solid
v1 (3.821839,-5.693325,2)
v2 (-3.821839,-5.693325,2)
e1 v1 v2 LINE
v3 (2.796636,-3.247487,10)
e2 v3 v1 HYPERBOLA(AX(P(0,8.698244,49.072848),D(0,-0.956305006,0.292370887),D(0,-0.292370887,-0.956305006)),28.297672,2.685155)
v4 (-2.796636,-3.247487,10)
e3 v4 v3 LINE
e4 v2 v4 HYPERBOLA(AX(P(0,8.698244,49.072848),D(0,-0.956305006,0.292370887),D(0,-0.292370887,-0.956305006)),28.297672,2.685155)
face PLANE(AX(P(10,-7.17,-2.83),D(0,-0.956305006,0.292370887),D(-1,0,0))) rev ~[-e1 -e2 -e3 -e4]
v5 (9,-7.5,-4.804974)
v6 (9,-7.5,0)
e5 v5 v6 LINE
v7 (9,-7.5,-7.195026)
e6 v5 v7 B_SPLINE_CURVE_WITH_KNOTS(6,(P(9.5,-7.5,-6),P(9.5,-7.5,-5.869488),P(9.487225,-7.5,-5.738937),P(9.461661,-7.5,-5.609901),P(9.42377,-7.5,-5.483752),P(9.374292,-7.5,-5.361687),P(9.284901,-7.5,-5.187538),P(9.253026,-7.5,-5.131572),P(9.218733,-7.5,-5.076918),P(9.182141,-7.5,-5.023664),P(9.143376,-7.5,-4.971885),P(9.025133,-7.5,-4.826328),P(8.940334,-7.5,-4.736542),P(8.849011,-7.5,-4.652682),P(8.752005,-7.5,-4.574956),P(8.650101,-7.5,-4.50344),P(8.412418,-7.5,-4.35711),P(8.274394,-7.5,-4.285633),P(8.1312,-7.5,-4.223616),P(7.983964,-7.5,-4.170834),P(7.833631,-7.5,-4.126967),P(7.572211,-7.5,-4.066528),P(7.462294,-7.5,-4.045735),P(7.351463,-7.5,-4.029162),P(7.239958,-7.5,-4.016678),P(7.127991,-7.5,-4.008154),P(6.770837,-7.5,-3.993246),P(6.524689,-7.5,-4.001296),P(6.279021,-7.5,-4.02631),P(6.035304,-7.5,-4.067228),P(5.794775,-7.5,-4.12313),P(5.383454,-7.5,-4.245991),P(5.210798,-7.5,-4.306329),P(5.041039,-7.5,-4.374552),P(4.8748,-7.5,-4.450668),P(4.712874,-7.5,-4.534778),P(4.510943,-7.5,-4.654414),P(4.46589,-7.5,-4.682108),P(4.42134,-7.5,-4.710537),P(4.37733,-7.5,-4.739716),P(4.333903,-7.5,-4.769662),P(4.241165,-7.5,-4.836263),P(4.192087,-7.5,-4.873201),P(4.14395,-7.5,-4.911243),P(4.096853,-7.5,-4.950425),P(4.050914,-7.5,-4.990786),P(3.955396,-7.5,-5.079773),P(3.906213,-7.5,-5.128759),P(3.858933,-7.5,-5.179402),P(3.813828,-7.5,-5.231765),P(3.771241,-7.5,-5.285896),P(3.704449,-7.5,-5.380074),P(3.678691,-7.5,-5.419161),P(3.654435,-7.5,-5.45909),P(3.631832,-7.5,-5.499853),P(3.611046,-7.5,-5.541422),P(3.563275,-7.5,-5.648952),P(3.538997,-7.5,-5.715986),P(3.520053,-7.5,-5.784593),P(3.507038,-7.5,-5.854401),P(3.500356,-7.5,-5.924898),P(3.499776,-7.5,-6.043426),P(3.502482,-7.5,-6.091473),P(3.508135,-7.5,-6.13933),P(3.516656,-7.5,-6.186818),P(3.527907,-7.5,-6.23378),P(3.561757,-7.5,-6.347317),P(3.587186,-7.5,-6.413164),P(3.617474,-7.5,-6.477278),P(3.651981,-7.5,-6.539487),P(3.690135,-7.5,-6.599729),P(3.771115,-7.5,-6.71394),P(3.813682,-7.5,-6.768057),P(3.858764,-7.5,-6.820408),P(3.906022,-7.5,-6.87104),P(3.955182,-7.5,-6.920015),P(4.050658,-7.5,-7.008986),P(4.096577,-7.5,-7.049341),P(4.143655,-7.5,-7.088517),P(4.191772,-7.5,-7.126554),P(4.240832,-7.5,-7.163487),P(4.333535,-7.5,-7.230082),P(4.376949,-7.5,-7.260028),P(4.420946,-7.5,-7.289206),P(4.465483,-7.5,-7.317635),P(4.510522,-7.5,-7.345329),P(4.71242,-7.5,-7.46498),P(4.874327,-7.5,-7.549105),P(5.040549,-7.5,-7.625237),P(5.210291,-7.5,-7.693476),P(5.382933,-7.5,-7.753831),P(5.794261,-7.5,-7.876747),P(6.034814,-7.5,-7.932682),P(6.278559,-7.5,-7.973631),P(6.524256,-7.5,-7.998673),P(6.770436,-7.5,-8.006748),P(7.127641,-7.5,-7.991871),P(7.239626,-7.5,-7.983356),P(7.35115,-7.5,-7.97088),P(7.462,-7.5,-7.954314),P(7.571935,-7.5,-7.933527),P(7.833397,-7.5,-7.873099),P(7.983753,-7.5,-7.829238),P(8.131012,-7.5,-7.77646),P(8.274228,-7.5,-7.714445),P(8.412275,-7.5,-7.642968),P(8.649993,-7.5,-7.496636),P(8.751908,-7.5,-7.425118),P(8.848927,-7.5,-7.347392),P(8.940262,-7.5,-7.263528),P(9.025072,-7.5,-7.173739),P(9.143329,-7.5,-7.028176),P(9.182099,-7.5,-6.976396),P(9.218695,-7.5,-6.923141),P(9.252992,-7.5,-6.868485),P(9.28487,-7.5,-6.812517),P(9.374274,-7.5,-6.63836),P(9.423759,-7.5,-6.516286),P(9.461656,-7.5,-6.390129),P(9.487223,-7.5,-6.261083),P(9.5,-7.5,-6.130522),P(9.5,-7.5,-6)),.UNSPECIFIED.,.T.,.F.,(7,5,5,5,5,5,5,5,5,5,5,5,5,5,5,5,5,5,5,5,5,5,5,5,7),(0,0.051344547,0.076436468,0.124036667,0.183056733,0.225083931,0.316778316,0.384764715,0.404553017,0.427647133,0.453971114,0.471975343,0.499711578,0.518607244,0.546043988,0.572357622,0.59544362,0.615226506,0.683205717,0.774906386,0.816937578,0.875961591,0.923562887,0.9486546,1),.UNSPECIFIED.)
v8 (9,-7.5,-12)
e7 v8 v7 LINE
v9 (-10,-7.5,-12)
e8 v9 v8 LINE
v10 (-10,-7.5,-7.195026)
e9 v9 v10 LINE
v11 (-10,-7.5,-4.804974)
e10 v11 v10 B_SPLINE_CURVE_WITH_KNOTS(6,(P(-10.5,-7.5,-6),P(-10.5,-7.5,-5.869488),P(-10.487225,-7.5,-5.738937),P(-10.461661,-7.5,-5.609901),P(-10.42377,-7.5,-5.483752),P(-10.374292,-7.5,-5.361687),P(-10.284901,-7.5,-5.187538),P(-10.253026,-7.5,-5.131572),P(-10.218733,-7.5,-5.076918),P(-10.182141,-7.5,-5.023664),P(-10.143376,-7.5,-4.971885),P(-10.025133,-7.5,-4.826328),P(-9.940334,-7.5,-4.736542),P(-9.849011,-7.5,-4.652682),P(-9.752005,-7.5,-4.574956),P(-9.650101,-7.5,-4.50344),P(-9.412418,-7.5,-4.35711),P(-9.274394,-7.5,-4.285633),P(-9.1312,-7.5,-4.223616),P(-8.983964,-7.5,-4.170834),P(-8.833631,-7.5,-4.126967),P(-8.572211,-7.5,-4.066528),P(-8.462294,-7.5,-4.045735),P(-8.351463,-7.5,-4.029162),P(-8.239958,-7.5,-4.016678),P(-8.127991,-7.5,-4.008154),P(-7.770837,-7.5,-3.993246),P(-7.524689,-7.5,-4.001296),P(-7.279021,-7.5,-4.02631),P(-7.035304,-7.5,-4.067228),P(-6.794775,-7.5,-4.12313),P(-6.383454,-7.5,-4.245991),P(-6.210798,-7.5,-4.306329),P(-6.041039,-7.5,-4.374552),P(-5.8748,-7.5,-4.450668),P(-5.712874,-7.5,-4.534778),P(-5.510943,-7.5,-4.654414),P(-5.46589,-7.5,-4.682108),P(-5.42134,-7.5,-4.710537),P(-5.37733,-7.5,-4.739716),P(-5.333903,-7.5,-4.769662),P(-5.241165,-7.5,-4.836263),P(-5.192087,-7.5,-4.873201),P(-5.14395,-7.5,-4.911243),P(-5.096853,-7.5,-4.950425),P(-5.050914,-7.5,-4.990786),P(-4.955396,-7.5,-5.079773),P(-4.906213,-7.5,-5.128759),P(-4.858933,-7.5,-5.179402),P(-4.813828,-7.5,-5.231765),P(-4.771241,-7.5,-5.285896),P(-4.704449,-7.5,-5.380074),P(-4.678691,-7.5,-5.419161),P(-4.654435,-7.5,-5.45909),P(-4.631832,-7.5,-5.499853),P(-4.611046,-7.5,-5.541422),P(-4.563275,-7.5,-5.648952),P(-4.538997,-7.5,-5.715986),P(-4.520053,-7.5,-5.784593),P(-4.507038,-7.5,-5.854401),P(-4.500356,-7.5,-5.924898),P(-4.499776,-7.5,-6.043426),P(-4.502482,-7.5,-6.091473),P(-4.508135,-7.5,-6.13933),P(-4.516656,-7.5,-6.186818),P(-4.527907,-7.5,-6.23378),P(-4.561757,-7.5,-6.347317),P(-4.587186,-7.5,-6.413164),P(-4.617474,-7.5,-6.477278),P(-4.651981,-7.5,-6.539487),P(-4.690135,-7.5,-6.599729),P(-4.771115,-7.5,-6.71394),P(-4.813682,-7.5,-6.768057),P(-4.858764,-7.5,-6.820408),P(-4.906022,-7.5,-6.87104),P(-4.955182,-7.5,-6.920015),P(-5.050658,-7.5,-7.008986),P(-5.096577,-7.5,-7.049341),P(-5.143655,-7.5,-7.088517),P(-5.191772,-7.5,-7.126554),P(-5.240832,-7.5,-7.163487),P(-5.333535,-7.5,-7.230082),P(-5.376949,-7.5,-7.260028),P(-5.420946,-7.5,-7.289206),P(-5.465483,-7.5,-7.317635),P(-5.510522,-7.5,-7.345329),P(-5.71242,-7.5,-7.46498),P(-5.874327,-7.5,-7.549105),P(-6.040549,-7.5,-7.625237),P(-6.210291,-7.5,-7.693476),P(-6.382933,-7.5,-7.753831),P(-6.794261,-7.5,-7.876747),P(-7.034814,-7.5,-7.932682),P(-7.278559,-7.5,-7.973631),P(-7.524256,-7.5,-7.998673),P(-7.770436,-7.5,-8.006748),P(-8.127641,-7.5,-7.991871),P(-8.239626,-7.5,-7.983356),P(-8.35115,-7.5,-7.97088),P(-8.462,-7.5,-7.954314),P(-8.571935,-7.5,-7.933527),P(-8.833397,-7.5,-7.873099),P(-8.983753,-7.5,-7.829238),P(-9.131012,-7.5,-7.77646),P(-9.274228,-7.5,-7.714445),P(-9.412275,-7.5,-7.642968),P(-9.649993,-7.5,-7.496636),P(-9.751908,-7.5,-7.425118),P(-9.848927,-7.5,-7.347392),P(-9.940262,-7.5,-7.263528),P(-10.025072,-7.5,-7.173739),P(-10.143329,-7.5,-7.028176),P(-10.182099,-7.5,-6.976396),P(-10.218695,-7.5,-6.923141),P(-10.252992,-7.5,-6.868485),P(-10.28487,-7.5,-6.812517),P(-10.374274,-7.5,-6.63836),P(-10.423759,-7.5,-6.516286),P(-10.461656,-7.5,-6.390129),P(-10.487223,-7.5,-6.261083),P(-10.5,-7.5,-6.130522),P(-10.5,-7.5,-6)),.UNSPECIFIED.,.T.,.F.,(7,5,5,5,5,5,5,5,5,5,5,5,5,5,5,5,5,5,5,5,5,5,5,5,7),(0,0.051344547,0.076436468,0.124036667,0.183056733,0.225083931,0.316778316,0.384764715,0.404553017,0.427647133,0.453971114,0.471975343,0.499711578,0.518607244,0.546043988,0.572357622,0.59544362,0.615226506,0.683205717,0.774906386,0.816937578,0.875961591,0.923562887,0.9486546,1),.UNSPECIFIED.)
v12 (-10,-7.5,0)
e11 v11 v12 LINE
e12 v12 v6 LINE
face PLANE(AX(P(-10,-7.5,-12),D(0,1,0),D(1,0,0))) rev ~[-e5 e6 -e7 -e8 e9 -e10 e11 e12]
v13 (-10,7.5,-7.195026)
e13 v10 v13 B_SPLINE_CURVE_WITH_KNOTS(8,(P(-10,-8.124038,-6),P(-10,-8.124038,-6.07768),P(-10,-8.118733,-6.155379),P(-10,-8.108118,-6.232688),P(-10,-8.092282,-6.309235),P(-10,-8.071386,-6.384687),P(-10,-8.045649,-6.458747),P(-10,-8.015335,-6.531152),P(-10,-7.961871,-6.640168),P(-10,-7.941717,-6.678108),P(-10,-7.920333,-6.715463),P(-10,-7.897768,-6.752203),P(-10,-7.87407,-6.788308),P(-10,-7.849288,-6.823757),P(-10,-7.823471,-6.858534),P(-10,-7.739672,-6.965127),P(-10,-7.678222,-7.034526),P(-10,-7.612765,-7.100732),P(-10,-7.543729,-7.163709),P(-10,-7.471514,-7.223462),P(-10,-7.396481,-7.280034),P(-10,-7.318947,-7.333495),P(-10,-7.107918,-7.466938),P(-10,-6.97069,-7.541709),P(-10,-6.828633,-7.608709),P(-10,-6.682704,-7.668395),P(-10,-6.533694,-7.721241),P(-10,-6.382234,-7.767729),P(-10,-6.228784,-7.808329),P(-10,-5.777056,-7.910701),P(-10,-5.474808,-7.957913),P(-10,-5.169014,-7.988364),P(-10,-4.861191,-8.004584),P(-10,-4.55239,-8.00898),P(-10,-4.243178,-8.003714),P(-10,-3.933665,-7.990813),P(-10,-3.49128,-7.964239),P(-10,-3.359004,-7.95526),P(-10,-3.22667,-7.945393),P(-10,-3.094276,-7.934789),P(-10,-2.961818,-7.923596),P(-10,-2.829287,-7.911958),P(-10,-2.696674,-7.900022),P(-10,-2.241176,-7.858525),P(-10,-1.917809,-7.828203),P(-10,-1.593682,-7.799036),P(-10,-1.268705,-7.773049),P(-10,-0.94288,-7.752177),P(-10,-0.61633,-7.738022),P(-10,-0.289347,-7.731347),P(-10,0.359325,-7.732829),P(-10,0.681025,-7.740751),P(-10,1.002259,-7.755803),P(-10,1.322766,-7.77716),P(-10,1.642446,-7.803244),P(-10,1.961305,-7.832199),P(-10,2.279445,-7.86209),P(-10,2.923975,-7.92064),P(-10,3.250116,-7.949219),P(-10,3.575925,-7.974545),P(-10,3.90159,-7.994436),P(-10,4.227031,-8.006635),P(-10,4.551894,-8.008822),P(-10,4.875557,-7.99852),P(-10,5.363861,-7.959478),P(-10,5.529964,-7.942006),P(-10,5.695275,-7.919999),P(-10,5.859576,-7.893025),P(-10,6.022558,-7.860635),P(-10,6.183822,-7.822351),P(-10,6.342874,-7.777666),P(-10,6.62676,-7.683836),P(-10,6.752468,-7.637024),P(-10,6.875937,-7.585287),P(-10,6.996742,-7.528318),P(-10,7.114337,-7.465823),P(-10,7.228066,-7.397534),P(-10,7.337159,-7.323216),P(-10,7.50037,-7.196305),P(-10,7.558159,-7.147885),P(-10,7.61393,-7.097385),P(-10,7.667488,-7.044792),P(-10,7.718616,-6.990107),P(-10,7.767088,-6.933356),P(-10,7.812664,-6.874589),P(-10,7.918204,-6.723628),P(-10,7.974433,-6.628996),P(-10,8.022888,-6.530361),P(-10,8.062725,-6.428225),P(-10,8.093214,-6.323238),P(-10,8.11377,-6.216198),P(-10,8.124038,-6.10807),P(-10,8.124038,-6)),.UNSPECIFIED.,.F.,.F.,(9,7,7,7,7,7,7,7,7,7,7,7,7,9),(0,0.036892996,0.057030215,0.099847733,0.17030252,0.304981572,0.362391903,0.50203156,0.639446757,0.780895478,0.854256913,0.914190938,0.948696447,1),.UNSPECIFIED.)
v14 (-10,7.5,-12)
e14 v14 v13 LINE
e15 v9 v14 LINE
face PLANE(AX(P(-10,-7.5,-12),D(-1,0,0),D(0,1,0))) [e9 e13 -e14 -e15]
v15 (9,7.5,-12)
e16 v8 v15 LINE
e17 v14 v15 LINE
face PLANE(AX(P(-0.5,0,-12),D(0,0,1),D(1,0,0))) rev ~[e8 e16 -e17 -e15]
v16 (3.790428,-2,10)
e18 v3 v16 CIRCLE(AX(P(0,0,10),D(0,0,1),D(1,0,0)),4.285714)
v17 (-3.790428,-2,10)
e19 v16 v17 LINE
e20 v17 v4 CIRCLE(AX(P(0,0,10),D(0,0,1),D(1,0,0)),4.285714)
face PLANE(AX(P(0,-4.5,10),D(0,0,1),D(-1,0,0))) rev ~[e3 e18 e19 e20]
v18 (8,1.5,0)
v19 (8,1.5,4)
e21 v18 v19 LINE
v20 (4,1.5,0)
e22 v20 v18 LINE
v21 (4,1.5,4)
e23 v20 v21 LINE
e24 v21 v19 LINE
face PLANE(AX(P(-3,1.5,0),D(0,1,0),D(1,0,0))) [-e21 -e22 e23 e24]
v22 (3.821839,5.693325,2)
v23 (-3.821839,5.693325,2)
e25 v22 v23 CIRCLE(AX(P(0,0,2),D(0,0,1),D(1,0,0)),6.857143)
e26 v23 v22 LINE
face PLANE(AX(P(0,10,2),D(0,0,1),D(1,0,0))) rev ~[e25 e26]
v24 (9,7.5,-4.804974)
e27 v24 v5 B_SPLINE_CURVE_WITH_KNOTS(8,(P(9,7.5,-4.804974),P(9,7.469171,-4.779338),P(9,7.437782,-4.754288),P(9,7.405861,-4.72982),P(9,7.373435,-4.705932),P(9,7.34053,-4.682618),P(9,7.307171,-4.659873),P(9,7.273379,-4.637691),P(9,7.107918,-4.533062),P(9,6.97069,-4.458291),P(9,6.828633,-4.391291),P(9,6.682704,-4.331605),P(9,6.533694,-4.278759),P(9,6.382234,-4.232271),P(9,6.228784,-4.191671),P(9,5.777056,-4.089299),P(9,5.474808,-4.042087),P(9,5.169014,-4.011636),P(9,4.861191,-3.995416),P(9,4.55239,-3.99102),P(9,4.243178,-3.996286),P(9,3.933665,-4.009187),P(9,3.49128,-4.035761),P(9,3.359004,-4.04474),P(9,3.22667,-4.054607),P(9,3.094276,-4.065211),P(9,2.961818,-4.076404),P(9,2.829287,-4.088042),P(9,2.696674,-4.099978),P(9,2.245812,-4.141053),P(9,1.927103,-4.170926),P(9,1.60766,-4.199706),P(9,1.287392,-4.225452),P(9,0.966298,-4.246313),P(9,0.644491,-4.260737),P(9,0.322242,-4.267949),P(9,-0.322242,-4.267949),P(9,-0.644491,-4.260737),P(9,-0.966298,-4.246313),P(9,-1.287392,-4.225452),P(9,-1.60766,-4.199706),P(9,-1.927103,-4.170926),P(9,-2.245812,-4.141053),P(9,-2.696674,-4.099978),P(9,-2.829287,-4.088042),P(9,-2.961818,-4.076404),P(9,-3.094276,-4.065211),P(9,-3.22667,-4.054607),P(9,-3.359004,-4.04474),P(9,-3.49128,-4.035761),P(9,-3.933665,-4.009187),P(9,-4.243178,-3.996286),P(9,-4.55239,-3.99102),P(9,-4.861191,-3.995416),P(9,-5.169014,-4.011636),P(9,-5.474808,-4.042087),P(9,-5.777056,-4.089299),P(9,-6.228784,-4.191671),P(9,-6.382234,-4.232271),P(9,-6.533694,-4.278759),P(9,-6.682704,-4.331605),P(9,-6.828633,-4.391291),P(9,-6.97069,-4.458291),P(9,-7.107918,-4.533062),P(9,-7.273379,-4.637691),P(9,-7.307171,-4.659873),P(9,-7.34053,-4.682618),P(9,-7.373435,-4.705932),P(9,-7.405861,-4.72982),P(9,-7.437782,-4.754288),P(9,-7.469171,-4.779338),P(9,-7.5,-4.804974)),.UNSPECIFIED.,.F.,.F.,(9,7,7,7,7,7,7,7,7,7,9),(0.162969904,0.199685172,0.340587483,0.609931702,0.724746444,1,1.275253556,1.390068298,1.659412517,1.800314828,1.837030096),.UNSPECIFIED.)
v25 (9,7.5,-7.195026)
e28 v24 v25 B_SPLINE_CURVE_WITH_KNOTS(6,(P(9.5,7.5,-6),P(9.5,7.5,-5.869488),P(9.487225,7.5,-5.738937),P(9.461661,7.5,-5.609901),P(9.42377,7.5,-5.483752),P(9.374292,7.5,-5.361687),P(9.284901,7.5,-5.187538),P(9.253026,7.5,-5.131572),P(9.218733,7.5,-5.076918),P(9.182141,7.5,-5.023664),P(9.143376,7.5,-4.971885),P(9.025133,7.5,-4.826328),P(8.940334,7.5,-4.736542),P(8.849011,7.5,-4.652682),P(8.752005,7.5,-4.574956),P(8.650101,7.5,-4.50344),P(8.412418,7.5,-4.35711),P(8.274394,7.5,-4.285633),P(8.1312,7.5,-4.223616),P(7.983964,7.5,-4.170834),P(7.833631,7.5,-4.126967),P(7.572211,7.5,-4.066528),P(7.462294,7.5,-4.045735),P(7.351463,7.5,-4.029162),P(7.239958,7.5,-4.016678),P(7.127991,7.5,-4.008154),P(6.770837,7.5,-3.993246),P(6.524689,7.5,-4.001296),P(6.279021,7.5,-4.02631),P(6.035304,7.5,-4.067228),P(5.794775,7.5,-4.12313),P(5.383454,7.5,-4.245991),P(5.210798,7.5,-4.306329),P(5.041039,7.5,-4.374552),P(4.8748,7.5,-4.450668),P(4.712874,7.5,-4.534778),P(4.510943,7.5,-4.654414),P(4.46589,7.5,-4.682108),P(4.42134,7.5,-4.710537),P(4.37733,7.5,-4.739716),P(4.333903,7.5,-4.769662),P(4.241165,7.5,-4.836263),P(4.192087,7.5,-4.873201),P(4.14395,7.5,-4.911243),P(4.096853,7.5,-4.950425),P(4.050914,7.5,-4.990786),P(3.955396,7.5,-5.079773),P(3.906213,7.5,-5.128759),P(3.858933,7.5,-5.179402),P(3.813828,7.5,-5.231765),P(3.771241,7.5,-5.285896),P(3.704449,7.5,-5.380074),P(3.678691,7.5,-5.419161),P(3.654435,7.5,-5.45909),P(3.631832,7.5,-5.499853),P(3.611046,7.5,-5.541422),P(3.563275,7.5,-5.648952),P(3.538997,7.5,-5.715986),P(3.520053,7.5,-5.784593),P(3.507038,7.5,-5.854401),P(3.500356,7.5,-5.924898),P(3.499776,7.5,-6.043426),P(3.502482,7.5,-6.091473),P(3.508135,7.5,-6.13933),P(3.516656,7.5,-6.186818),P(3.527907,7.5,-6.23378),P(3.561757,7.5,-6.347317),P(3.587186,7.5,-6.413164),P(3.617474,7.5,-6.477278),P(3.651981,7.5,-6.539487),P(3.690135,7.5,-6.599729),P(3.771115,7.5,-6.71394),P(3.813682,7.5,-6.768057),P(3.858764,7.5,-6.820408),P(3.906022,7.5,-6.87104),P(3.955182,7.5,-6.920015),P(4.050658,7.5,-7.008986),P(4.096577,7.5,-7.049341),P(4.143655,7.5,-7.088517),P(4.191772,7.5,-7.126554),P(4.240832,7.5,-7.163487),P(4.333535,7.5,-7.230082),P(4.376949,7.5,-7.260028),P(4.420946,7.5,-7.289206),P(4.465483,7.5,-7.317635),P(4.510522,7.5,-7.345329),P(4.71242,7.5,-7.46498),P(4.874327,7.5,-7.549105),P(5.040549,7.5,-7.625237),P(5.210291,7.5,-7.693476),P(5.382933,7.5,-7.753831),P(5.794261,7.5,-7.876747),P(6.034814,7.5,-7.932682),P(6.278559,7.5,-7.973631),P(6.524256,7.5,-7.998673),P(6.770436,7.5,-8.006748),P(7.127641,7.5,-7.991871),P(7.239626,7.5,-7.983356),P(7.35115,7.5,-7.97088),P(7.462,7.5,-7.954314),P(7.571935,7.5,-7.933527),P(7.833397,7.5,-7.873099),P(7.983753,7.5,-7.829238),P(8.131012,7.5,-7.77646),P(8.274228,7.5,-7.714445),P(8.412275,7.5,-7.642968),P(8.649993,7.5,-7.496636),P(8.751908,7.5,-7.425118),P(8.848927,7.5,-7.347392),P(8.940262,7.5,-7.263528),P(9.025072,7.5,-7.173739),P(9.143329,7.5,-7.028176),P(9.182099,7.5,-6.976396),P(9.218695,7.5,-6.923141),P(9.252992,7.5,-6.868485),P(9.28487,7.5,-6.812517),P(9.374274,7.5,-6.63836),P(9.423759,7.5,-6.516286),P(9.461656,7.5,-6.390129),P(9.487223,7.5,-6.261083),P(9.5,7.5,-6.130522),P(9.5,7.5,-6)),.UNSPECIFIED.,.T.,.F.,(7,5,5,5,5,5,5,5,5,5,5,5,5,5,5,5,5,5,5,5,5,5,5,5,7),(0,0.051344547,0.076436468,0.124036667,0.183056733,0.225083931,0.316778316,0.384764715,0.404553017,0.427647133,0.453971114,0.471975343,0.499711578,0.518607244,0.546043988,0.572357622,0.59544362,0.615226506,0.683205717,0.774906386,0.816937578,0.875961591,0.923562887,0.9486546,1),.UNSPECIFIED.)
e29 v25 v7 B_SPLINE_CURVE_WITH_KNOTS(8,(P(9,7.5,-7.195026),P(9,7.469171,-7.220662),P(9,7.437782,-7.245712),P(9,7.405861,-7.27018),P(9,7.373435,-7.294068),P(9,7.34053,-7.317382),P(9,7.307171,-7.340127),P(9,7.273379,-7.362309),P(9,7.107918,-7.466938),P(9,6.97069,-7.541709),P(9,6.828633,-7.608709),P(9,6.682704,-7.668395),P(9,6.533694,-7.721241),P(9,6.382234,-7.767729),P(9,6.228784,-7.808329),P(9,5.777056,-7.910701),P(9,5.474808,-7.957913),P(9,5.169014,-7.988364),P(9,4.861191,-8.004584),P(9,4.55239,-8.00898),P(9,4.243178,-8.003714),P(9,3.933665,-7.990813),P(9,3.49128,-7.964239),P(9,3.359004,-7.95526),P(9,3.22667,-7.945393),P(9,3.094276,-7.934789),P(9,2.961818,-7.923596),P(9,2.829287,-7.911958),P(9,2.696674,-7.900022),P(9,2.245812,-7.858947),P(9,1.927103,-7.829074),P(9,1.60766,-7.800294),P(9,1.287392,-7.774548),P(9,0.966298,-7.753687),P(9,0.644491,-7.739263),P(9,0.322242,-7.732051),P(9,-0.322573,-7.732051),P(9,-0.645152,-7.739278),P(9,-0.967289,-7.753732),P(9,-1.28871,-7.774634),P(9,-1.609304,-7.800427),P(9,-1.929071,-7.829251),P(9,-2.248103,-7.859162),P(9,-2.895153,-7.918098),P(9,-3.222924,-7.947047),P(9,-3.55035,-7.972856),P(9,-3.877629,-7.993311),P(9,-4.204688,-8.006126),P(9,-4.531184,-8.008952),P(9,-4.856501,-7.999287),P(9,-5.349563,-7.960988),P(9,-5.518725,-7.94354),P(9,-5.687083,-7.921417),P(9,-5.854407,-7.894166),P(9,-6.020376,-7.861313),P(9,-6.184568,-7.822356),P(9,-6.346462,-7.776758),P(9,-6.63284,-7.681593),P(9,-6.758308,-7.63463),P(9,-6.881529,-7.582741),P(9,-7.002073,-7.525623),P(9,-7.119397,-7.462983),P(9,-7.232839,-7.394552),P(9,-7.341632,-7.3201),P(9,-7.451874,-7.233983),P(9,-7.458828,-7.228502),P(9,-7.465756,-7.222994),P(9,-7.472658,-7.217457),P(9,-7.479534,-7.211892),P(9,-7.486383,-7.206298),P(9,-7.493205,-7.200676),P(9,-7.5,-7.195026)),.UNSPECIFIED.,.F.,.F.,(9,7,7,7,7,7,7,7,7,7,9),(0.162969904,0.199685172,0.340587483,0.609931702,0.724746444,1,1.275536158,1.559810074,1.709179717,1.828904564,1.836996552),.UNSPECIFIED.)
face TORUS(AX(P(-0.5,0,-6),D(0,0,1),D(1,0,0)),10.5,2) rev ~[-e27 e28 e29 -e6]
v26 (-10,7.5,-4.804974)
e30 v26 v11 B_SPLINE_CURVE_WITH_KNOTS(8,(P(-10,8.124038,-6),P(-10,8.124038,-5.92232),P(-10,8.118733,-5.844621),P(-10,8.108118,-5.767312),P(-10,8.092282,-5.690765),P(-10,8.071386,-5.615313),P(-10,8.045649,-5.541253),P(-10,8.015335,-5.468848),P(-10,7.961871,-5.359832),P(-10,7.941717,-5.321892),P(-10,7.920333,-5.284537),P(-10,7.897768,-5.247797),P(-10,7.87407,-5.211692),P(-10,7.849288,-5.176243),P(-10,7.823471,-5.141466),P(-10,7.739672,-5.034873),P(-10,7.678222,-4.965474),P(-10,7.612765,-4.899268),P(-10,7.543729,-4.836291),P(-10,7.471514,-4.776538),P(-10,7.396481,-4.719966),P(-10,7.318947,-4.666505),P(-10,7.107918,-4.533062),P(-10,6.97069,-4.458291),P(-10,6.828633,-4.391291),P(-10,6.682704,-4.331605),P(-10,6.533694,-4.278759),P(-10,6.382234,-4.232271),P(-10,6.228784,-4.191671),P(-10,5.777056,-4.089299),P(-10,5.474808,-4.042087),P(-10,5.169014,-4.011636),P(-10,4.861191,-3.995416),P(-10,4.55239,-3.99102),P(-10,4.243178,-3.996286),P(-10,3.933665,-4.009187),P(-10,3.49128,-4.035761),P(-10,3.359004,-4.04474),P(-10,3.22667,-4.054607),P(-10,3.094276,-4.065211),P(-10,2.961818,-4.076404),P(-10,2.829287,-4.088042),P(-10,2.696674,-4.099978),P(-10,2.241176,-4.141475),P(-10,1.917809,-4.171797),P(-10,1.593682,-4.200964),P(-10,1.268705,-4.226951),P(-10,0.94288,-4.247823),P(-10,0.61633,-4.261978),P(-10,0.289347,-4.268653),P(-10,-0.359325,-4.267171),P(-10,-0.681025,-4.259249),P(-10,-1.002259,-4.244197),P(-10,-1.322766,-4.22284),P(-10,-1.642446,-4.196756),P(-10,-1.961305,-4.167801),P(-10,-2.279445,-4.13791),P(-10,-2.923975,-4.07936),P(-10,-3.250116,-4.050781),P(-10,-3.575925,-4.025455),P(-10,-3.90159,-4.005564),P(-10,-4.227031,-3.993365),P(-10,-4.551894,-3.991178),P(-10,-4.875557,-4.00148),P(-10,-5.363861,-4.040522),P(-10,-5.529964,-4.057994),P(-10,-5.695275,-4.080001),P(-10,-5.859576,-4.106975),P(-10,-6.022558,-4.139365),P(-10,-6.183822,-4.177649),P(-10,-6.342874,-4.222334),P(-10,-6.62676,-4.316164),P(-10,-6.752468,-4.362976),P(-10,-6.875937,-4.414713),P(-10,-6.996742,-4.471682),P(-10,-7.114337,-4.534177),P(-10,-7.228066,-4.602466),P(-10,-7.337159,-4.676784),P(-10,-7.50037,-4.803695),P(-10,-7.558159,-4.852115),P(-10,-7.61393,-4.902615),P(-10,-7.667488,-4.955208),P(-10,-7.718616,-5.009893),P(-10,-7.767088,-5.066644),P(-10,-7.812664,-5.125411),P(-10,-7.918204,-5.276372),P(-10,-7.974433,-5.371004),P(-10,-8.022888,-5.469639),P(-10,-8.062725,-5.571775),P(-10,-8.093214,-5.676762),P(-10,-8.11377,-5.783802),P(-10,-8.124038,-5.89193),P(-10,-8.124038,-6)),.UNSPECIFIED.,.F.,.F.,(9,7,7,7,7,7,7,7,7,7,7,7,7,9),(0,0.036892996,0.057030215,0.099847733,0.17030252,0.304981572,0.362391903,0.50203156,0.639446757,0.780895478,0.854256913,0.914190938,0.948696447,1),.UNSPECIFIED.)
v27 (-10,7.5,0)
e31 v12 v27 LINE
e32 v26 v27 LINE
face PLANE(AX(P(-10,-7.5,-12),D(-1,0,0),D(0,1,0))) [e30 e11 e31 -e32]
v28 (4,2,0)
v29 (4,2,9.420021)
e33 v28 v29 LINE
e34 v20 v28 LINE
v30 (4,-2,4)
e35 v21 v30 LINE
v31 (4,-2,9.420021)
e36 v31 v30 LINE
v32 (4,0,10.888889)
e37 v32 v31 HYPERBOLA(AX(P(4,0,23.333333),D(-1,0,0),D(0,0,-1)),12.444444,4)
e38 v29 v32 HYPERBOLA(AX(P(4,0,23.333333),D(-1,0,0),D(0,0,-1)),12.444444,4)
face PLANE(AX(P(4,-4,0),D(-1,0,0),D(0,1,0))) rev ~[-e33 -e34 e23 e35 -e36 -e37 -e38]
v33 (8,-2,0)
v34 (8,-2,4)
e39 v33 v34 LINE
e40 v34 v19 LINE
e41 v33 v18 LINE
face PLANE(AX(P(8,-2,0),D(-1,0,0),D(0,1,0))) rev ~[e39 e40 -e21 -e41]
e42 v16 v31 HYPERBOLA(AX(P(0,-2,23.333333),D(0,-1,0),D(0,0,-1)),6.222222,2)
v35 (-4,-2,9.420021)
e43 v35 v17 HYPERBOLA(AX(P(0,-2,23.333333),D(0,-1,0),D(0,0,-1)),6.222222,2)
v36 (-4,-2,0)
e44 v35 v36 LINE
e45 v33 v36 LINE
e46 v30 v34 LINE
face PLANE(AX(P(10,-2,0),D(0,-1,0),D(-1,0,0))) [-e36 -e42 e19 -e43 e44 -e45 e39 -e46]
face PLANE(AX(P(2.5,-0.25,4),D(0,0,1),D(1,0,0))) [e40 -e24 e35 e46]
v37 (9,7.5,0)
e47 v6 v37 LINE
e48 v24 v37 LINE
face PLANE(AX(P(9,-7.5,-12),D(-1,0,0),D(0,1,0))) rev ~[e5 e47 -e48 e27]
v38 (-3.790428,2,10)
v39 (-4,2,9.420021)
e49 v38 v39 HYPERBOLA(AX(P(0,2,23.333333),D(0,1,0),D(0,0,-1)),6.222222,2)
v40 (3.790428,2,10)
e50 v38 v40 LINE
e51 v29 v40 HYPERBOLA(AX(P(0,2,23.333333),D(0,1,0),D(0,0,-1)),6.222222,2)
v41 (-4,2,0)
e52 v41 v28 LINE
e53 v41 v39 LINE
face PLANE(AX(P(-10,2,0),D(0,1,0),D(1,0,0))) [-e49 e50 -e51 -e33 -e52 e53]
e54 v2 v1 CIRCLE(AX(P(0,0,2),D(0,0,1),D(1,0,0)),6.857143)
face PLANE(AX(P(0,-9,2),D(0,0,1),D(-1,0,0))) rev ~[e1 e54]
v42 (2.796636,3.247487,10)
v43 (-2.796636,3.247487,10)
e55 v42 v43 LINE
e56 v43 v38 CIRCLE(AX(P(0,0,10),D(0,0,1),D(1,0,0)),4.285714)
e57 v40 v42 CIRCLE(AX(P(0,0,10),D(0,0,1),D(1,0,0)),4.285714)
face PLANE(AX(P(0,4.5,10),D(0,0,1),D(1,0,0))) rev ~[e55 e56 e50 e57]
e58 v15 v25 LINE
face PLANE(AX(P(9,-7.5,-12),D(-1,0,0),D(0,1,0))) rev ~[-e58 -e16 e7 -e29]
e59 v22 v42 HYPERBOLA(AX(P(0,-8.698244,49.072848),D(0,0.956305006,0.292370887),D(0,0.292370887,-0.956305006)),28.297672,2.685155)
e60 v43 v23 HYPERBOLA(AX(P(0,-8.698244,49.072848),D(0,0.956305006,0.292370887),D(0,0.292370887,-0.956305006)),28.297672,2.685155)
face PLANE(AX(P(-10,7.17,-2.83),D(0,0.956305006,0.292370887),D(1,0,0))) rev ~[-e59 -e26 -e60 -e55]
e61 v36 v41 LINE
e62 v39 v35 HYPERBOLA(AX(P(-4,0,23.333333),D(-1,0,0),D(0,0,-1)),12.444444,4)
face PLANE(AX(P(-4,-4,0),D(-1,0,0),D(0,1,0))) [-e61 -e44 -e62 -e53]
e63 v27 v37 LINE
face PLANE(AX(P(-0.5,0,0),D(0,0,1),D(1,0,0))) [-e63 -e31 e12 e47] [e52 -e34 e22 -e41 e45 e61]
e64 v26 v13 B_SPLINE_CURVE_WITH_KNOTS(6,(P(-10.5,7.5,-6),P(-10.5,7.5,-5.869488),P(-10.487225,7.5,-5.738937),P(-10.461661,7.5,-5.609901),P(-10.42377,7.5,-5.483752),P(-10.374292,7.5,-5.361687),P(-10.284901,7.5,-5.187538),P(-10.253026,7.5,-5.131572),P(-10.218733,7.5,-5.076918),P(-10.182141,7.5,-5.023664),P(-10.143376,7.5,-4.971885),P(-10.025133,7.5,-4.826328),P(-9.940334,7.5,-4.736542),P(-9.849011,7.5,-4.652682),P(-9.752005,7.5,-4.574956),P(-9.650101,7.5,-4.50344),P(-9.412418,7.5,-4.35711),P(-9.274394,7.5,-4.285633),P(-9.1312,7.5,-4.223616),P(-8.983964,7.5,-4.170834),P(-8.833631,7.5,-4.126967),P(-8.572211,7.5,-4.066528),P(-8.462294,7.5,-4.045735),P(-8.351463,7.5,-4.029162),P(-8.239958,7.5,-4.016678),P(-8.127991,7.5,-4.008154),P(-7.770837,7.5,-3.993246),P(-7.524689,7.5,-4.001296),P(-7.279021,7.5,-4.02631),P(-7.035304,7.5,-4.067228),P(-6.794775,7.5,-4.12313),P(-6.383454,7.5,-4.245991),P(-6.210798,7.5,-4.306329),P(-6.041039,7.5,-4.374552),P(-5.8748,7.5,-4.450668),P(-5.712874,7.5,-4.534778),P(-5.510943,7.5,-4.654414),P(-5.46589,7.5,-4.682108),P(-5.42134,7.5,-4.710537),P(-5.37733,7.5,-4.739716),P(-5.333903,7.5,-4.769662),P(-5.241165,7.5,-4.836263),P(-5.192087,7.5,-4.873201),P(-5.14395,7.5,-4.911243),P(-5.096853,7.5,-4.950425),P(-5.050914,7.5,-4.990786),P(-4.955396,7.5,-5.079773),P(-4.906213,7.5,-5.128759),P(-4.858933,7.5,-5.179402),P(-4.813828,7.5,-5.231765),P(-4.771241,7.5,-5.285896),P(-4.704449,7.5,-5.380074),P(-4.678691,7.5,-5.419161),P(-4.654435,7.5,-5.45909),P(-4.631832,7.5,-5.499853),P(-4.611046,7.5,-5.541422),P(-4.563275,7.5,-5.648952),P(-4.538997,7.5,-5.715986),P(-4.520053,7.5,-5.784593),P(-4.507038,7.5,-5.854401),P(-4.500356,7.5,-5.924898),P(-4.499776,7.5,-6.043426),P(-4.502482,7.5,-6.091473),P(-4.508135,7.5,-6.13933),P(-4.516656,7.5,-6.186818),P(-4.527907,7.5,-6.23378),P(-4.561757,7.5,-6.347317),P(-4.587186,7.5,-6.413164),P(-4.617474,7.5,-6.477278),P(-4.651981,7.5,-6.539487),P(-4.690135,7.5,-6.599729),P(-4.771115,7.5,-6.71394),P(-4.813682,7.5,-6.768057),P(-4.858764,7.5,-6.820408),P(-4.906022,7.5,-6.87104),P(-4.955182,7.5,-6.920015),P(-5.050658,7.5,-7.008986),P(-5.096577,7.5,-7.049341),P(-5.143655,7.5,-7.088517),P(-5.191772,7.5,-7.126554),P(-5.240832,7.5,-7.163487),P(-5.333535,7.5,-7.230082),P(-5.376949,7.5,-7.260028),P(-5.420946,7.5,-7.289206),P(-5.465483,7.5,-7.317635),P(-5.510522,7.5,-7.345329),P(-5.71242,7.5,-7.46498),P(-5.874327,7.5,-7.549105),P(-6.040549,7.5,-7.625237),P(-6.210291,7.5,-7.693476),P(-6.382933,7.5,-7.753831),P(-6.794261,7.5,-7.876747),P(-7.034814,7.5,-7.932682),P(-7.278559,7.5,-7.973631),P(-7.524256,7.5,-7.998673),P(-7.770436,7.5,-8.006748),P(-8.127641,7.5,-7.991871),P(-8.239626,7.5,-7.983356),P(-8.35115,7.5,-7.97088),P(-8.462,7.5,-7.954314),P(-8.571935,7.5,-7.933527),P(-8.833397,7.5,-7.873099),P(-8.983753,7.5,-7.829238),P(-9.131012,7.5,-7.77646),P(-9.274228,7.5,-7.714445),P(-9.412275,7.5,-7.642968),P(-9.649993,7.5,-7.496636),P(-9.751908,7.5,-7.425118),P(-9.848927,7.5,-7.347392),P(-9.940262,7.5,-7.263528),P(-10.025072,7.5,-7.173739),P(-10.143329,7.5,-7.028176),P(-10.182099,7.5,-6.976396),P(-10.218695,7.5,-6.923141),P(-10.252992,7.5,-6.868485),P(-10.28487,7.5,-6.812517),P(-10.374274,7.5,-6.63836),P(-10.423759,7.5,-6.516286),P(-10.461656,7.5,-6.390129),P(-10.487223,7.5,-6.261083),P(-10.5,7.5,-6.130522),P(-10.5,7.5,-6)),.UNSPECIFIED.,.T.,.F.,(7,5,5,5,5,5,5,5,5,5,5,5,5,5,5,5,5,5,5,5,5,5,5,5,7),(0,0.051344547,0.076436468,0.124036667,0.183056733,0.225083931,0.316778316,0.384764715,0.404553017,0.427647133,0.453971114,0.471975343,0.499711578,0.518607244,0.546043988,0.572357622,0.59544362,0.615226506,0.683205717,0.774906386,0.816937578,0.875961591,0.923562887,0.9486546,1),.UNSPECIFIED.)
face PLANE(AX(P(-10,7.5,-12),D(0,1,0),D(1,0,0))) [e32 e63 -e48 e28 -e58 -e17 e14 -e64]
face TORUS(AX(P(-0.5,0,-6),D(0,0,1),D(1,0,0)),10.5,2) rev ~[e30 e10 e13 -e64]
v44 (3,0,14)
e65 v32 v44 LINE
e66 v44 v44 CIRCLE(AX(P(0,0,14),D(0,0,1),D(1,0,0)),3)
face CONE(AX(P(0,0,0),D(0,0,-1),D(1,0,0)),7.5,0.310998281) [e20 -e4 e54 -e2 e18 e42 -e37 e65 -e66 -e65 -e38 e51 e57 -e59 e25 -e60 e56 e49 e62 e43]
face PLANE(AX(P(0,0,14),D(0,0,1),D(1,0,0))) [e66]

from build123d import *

# Parameters (mm, degrees)
BOX008_W               = 10
BOX008_H               = 10
BOX008_DEPTH           = 5
BOX009_W               = 10
BOX009_H               = 10
BOX009_DEPTH           = 5
BOX006_W               = 10
BOX006_H               = 10
BOX006_DEPTH           = 15
BOX006_PLACEMENT_ANGLE = 90
BOX005_W               = 10
BOX005_H               = 10
BOX005_DEPTH           = 15
BOX002_W               = 20
BOX002_H               = 8
BOX002_DEPTH           = 18
BOX002_ROLL_ANGLE      = 16.999951
BOX003_W               = 20
BOX003_H               = 5
BOX003_DEPTH           = 10
CUT001_PLACEMENT_ANGLE = 180
BOX001_W               = 20
BOX001_H               = 8
BOX001_DEPTH           = 18
BOX001_ROLL_ANGLE      = 16.999951
BOX_W                  = 20
BOX_H                  = 5
BOX_DEPTH              = 10
TORUS_R                = 2
BOX007_W               = 19
BOX007_H               = 15
BOX007_DEPTH           = 12
BOX004_W               = 11
BOX004_H               = 3.5
BOX004_DEPTH           = 4


with BuildPart() as box008:
    # Box008 → Box008 (new body)
    with BuildSketch(Plane(origin=(-5, 5, -3), x_dir=(1, 0, 0), z_dir=(0, 0, 1))):
        with Locations((5, 5)):
            Rectangle(BOX008_W, BOX008_H)
    extrude(amount=BOX008_DEPTH)


with BuildPart() as box009:
    # Box009 → Box009 (new body)
    with BuildSketch(Plane(origin=(5, -4, -3), x_dir=(-1, 0, 0), z_dir=(0, 0, 1))):
        with Locations((5, 5)):
            Rectangle(BOX009_W, BOX009_H)
    extrude(amount=BOX009_DEPTH)


with BuildPart() as box006:
    # Box006 → Box006 (new body)
    with BuildSketch(Plane.XY):
        with Locations((5, 5)):
            Rectangle(BOX006_W, BOX006_H)
    extrude(amount=BOX006_DEPTH)


with BuildPart() as box006_1:
    # Box006 placement: moved
    add(box006.part.moved(Location((-4, -4, 0))).rotate(Axis((-4, -4, 0), (0, 0, 1)), BOX006_PLACEMENT_ANGLE))


with BuildPart() as box005:
    # Box005 → Box005 (new body)
    with BuildSketch(Plane(origin=(4, -4, 0), x_dir=(1, 0, 0), z_dir=(0, 0, 1))):
        with Locations((5, 5)):
            Rectangle(BOX005_W, BOX005_H)
    extrude(amount=BOX005_DEPTH)


with BuildPart() as box002:
    # Box002 → Box002 (new body)
    with BuildSketch(Plane.XY):
        with Locations((10, 4)):
            Rectangle(BOX002_W, BOX002_H)
    extrude(amount=BOX002_DEPTH)


with BuildPart() as box002_1:
    # Box002 roll: moved
    add(box002.part.rotate(Axis((0, 0, 0), (1, 0, 0)), BOX002_ROLL_ANGLE))


with BuildPart() as box002_2:
    # Box002 placement: moved
    add(box002_1.part.moved(Location((0, 17.17, -2.83))))


with BuildPart() as cu_a001:
    # Box003 → Box003 (new body)
    with BuildSketch(Plane(origin=(0, 12, 0), x_dir=(1, 0, 0), z_dir=(0, 0, 1))):
        with Locations((10, 2.5)):
            Rectangle(BOX003_W, BOX003_H)
    extrude(amount=BOX003_DEPTH)

    # Cut001: cut Box002
    add(box002_2.part, mode=Mode.SUBTRACT)


with BuildPart() as cu_a001_1:
    # Cut001 placement: moved
    add(cu_a001.part.moved(Location((10, 10, 0))).rotate(Axis((10, 10, 0), (0, 0, 1)), CUT001_PLACEMENT_ANGLE))


with BuildPart() as box001:
    # Box001 → Box001 (new body)
    with BuildSketch(Plane.XY):
        with Locations((10, 4)):
            Rectangle(BOX001_W, BOX001_H)
    extrude(amount=BOX001_DEPTH)


with BuildPart() as box001_1:
    # Box001 roll: moved
    add(box001.part.rotate(Axis((0, 0, 0), (1, 0, 0)), BOX001_ROLL_ANGLE))


with BuildPart() as box001_2:
    # Box001 placement: moved
    add(box001_1.part.moved(Location((0, 17.17, -2.83))))


with BuildPart() as cu_a:
    # Box → Box (new body)
    with BuildSketch(Plane(origin=(0, 12, 0), x_dir=(1, 0, 0), z_dir=(0, 0, 1))):
        with Locations((10, 2.5)):
            Rectangle(BOX_W, BOX_H)
    extrude(amount=BOX_DEPTH)

    # Cut: cut Box001
    add(box001_2.part, mode=Mode.SUBTRACT)


with BuildPart() as cu_a_1:
    # Cut placement: moved
    add(cu_a.part.moved(Location((-10, -10, 0))))


with BuildPart() as cut007:
    # Cone → Cone (revolve)
    with BuildSketch(Plane.XZ):
        Polygon((0, 0), (7.5, 0), (3, 14), (0, 14), align=None)
    revolve(axis=Axis((0, 0, 0), (0, 0, 1)))

    # Cut002: cut Cuña
    add(cu_a_1.part, mode=Mode.SUBTRACT)

    # Cut003: cut Cuña001
    add(cu_a001_1.part, mode=Mode.SUBTRACT)

    # Cut004: cut Box005
    add(box005.part, mode=Mode.SUBTRACT)

    # Cut005: cut Box006
    add(box006_1.part, mode=Mode.SUBTRACT)

    # Cut006: cut Box009
    add(box009.part, mode=Mode.SUBTRACT)

    # Cut007: cut Box008
    add(box008.part, mode=Mode.SUBTRACT)


with BuildPart() as torus:
    # Torus → Torus (revolve)
    with BuildSketch(Plane(origin=(-0.5, 0, -6), x_dir=(1, 0, 0), z_dir=(0, -1, 0))):
        with Locations((10.5, 0)):
            Circle(TORUS_R)
    revolve(axis=Axis((-0.5, 0, -6), (0, 0, 1)))


with BuildPart() as cut008:
    # Box007 → Box007 (new body)
    with BuildSketch(Plane(origin=(-10, -7.5, -12), x_dir=(1, 0, 0), z_dir=(0, 0, 1))):
        with Locations((9.5, 7.5)):
            Rectangle(BOX007_W, BOX007_H)
    extrude(amount=BOX007_DEPTH)

    # Cut008: cut Torus
    add(torus.part, mode=Mode.SUBTRACT)


with BuildPart() as fusion:
    # Box004 → Box004 (new body)
    with BuildSketch(Plane(origin=(-3, -2, 0), x_dir=(1, 0, 0), z_dir=(0, 0, 1))):
        with Locations((5.5, 1.75)):
            Rectangle(BOX004_W, BOX004_H)
    extrude(amount=BOX004_DEPTH)

    # Fusion: union Cut007, Cut008
    add(cut007.part)
    add(cut008.part)


solid = fusion.part
